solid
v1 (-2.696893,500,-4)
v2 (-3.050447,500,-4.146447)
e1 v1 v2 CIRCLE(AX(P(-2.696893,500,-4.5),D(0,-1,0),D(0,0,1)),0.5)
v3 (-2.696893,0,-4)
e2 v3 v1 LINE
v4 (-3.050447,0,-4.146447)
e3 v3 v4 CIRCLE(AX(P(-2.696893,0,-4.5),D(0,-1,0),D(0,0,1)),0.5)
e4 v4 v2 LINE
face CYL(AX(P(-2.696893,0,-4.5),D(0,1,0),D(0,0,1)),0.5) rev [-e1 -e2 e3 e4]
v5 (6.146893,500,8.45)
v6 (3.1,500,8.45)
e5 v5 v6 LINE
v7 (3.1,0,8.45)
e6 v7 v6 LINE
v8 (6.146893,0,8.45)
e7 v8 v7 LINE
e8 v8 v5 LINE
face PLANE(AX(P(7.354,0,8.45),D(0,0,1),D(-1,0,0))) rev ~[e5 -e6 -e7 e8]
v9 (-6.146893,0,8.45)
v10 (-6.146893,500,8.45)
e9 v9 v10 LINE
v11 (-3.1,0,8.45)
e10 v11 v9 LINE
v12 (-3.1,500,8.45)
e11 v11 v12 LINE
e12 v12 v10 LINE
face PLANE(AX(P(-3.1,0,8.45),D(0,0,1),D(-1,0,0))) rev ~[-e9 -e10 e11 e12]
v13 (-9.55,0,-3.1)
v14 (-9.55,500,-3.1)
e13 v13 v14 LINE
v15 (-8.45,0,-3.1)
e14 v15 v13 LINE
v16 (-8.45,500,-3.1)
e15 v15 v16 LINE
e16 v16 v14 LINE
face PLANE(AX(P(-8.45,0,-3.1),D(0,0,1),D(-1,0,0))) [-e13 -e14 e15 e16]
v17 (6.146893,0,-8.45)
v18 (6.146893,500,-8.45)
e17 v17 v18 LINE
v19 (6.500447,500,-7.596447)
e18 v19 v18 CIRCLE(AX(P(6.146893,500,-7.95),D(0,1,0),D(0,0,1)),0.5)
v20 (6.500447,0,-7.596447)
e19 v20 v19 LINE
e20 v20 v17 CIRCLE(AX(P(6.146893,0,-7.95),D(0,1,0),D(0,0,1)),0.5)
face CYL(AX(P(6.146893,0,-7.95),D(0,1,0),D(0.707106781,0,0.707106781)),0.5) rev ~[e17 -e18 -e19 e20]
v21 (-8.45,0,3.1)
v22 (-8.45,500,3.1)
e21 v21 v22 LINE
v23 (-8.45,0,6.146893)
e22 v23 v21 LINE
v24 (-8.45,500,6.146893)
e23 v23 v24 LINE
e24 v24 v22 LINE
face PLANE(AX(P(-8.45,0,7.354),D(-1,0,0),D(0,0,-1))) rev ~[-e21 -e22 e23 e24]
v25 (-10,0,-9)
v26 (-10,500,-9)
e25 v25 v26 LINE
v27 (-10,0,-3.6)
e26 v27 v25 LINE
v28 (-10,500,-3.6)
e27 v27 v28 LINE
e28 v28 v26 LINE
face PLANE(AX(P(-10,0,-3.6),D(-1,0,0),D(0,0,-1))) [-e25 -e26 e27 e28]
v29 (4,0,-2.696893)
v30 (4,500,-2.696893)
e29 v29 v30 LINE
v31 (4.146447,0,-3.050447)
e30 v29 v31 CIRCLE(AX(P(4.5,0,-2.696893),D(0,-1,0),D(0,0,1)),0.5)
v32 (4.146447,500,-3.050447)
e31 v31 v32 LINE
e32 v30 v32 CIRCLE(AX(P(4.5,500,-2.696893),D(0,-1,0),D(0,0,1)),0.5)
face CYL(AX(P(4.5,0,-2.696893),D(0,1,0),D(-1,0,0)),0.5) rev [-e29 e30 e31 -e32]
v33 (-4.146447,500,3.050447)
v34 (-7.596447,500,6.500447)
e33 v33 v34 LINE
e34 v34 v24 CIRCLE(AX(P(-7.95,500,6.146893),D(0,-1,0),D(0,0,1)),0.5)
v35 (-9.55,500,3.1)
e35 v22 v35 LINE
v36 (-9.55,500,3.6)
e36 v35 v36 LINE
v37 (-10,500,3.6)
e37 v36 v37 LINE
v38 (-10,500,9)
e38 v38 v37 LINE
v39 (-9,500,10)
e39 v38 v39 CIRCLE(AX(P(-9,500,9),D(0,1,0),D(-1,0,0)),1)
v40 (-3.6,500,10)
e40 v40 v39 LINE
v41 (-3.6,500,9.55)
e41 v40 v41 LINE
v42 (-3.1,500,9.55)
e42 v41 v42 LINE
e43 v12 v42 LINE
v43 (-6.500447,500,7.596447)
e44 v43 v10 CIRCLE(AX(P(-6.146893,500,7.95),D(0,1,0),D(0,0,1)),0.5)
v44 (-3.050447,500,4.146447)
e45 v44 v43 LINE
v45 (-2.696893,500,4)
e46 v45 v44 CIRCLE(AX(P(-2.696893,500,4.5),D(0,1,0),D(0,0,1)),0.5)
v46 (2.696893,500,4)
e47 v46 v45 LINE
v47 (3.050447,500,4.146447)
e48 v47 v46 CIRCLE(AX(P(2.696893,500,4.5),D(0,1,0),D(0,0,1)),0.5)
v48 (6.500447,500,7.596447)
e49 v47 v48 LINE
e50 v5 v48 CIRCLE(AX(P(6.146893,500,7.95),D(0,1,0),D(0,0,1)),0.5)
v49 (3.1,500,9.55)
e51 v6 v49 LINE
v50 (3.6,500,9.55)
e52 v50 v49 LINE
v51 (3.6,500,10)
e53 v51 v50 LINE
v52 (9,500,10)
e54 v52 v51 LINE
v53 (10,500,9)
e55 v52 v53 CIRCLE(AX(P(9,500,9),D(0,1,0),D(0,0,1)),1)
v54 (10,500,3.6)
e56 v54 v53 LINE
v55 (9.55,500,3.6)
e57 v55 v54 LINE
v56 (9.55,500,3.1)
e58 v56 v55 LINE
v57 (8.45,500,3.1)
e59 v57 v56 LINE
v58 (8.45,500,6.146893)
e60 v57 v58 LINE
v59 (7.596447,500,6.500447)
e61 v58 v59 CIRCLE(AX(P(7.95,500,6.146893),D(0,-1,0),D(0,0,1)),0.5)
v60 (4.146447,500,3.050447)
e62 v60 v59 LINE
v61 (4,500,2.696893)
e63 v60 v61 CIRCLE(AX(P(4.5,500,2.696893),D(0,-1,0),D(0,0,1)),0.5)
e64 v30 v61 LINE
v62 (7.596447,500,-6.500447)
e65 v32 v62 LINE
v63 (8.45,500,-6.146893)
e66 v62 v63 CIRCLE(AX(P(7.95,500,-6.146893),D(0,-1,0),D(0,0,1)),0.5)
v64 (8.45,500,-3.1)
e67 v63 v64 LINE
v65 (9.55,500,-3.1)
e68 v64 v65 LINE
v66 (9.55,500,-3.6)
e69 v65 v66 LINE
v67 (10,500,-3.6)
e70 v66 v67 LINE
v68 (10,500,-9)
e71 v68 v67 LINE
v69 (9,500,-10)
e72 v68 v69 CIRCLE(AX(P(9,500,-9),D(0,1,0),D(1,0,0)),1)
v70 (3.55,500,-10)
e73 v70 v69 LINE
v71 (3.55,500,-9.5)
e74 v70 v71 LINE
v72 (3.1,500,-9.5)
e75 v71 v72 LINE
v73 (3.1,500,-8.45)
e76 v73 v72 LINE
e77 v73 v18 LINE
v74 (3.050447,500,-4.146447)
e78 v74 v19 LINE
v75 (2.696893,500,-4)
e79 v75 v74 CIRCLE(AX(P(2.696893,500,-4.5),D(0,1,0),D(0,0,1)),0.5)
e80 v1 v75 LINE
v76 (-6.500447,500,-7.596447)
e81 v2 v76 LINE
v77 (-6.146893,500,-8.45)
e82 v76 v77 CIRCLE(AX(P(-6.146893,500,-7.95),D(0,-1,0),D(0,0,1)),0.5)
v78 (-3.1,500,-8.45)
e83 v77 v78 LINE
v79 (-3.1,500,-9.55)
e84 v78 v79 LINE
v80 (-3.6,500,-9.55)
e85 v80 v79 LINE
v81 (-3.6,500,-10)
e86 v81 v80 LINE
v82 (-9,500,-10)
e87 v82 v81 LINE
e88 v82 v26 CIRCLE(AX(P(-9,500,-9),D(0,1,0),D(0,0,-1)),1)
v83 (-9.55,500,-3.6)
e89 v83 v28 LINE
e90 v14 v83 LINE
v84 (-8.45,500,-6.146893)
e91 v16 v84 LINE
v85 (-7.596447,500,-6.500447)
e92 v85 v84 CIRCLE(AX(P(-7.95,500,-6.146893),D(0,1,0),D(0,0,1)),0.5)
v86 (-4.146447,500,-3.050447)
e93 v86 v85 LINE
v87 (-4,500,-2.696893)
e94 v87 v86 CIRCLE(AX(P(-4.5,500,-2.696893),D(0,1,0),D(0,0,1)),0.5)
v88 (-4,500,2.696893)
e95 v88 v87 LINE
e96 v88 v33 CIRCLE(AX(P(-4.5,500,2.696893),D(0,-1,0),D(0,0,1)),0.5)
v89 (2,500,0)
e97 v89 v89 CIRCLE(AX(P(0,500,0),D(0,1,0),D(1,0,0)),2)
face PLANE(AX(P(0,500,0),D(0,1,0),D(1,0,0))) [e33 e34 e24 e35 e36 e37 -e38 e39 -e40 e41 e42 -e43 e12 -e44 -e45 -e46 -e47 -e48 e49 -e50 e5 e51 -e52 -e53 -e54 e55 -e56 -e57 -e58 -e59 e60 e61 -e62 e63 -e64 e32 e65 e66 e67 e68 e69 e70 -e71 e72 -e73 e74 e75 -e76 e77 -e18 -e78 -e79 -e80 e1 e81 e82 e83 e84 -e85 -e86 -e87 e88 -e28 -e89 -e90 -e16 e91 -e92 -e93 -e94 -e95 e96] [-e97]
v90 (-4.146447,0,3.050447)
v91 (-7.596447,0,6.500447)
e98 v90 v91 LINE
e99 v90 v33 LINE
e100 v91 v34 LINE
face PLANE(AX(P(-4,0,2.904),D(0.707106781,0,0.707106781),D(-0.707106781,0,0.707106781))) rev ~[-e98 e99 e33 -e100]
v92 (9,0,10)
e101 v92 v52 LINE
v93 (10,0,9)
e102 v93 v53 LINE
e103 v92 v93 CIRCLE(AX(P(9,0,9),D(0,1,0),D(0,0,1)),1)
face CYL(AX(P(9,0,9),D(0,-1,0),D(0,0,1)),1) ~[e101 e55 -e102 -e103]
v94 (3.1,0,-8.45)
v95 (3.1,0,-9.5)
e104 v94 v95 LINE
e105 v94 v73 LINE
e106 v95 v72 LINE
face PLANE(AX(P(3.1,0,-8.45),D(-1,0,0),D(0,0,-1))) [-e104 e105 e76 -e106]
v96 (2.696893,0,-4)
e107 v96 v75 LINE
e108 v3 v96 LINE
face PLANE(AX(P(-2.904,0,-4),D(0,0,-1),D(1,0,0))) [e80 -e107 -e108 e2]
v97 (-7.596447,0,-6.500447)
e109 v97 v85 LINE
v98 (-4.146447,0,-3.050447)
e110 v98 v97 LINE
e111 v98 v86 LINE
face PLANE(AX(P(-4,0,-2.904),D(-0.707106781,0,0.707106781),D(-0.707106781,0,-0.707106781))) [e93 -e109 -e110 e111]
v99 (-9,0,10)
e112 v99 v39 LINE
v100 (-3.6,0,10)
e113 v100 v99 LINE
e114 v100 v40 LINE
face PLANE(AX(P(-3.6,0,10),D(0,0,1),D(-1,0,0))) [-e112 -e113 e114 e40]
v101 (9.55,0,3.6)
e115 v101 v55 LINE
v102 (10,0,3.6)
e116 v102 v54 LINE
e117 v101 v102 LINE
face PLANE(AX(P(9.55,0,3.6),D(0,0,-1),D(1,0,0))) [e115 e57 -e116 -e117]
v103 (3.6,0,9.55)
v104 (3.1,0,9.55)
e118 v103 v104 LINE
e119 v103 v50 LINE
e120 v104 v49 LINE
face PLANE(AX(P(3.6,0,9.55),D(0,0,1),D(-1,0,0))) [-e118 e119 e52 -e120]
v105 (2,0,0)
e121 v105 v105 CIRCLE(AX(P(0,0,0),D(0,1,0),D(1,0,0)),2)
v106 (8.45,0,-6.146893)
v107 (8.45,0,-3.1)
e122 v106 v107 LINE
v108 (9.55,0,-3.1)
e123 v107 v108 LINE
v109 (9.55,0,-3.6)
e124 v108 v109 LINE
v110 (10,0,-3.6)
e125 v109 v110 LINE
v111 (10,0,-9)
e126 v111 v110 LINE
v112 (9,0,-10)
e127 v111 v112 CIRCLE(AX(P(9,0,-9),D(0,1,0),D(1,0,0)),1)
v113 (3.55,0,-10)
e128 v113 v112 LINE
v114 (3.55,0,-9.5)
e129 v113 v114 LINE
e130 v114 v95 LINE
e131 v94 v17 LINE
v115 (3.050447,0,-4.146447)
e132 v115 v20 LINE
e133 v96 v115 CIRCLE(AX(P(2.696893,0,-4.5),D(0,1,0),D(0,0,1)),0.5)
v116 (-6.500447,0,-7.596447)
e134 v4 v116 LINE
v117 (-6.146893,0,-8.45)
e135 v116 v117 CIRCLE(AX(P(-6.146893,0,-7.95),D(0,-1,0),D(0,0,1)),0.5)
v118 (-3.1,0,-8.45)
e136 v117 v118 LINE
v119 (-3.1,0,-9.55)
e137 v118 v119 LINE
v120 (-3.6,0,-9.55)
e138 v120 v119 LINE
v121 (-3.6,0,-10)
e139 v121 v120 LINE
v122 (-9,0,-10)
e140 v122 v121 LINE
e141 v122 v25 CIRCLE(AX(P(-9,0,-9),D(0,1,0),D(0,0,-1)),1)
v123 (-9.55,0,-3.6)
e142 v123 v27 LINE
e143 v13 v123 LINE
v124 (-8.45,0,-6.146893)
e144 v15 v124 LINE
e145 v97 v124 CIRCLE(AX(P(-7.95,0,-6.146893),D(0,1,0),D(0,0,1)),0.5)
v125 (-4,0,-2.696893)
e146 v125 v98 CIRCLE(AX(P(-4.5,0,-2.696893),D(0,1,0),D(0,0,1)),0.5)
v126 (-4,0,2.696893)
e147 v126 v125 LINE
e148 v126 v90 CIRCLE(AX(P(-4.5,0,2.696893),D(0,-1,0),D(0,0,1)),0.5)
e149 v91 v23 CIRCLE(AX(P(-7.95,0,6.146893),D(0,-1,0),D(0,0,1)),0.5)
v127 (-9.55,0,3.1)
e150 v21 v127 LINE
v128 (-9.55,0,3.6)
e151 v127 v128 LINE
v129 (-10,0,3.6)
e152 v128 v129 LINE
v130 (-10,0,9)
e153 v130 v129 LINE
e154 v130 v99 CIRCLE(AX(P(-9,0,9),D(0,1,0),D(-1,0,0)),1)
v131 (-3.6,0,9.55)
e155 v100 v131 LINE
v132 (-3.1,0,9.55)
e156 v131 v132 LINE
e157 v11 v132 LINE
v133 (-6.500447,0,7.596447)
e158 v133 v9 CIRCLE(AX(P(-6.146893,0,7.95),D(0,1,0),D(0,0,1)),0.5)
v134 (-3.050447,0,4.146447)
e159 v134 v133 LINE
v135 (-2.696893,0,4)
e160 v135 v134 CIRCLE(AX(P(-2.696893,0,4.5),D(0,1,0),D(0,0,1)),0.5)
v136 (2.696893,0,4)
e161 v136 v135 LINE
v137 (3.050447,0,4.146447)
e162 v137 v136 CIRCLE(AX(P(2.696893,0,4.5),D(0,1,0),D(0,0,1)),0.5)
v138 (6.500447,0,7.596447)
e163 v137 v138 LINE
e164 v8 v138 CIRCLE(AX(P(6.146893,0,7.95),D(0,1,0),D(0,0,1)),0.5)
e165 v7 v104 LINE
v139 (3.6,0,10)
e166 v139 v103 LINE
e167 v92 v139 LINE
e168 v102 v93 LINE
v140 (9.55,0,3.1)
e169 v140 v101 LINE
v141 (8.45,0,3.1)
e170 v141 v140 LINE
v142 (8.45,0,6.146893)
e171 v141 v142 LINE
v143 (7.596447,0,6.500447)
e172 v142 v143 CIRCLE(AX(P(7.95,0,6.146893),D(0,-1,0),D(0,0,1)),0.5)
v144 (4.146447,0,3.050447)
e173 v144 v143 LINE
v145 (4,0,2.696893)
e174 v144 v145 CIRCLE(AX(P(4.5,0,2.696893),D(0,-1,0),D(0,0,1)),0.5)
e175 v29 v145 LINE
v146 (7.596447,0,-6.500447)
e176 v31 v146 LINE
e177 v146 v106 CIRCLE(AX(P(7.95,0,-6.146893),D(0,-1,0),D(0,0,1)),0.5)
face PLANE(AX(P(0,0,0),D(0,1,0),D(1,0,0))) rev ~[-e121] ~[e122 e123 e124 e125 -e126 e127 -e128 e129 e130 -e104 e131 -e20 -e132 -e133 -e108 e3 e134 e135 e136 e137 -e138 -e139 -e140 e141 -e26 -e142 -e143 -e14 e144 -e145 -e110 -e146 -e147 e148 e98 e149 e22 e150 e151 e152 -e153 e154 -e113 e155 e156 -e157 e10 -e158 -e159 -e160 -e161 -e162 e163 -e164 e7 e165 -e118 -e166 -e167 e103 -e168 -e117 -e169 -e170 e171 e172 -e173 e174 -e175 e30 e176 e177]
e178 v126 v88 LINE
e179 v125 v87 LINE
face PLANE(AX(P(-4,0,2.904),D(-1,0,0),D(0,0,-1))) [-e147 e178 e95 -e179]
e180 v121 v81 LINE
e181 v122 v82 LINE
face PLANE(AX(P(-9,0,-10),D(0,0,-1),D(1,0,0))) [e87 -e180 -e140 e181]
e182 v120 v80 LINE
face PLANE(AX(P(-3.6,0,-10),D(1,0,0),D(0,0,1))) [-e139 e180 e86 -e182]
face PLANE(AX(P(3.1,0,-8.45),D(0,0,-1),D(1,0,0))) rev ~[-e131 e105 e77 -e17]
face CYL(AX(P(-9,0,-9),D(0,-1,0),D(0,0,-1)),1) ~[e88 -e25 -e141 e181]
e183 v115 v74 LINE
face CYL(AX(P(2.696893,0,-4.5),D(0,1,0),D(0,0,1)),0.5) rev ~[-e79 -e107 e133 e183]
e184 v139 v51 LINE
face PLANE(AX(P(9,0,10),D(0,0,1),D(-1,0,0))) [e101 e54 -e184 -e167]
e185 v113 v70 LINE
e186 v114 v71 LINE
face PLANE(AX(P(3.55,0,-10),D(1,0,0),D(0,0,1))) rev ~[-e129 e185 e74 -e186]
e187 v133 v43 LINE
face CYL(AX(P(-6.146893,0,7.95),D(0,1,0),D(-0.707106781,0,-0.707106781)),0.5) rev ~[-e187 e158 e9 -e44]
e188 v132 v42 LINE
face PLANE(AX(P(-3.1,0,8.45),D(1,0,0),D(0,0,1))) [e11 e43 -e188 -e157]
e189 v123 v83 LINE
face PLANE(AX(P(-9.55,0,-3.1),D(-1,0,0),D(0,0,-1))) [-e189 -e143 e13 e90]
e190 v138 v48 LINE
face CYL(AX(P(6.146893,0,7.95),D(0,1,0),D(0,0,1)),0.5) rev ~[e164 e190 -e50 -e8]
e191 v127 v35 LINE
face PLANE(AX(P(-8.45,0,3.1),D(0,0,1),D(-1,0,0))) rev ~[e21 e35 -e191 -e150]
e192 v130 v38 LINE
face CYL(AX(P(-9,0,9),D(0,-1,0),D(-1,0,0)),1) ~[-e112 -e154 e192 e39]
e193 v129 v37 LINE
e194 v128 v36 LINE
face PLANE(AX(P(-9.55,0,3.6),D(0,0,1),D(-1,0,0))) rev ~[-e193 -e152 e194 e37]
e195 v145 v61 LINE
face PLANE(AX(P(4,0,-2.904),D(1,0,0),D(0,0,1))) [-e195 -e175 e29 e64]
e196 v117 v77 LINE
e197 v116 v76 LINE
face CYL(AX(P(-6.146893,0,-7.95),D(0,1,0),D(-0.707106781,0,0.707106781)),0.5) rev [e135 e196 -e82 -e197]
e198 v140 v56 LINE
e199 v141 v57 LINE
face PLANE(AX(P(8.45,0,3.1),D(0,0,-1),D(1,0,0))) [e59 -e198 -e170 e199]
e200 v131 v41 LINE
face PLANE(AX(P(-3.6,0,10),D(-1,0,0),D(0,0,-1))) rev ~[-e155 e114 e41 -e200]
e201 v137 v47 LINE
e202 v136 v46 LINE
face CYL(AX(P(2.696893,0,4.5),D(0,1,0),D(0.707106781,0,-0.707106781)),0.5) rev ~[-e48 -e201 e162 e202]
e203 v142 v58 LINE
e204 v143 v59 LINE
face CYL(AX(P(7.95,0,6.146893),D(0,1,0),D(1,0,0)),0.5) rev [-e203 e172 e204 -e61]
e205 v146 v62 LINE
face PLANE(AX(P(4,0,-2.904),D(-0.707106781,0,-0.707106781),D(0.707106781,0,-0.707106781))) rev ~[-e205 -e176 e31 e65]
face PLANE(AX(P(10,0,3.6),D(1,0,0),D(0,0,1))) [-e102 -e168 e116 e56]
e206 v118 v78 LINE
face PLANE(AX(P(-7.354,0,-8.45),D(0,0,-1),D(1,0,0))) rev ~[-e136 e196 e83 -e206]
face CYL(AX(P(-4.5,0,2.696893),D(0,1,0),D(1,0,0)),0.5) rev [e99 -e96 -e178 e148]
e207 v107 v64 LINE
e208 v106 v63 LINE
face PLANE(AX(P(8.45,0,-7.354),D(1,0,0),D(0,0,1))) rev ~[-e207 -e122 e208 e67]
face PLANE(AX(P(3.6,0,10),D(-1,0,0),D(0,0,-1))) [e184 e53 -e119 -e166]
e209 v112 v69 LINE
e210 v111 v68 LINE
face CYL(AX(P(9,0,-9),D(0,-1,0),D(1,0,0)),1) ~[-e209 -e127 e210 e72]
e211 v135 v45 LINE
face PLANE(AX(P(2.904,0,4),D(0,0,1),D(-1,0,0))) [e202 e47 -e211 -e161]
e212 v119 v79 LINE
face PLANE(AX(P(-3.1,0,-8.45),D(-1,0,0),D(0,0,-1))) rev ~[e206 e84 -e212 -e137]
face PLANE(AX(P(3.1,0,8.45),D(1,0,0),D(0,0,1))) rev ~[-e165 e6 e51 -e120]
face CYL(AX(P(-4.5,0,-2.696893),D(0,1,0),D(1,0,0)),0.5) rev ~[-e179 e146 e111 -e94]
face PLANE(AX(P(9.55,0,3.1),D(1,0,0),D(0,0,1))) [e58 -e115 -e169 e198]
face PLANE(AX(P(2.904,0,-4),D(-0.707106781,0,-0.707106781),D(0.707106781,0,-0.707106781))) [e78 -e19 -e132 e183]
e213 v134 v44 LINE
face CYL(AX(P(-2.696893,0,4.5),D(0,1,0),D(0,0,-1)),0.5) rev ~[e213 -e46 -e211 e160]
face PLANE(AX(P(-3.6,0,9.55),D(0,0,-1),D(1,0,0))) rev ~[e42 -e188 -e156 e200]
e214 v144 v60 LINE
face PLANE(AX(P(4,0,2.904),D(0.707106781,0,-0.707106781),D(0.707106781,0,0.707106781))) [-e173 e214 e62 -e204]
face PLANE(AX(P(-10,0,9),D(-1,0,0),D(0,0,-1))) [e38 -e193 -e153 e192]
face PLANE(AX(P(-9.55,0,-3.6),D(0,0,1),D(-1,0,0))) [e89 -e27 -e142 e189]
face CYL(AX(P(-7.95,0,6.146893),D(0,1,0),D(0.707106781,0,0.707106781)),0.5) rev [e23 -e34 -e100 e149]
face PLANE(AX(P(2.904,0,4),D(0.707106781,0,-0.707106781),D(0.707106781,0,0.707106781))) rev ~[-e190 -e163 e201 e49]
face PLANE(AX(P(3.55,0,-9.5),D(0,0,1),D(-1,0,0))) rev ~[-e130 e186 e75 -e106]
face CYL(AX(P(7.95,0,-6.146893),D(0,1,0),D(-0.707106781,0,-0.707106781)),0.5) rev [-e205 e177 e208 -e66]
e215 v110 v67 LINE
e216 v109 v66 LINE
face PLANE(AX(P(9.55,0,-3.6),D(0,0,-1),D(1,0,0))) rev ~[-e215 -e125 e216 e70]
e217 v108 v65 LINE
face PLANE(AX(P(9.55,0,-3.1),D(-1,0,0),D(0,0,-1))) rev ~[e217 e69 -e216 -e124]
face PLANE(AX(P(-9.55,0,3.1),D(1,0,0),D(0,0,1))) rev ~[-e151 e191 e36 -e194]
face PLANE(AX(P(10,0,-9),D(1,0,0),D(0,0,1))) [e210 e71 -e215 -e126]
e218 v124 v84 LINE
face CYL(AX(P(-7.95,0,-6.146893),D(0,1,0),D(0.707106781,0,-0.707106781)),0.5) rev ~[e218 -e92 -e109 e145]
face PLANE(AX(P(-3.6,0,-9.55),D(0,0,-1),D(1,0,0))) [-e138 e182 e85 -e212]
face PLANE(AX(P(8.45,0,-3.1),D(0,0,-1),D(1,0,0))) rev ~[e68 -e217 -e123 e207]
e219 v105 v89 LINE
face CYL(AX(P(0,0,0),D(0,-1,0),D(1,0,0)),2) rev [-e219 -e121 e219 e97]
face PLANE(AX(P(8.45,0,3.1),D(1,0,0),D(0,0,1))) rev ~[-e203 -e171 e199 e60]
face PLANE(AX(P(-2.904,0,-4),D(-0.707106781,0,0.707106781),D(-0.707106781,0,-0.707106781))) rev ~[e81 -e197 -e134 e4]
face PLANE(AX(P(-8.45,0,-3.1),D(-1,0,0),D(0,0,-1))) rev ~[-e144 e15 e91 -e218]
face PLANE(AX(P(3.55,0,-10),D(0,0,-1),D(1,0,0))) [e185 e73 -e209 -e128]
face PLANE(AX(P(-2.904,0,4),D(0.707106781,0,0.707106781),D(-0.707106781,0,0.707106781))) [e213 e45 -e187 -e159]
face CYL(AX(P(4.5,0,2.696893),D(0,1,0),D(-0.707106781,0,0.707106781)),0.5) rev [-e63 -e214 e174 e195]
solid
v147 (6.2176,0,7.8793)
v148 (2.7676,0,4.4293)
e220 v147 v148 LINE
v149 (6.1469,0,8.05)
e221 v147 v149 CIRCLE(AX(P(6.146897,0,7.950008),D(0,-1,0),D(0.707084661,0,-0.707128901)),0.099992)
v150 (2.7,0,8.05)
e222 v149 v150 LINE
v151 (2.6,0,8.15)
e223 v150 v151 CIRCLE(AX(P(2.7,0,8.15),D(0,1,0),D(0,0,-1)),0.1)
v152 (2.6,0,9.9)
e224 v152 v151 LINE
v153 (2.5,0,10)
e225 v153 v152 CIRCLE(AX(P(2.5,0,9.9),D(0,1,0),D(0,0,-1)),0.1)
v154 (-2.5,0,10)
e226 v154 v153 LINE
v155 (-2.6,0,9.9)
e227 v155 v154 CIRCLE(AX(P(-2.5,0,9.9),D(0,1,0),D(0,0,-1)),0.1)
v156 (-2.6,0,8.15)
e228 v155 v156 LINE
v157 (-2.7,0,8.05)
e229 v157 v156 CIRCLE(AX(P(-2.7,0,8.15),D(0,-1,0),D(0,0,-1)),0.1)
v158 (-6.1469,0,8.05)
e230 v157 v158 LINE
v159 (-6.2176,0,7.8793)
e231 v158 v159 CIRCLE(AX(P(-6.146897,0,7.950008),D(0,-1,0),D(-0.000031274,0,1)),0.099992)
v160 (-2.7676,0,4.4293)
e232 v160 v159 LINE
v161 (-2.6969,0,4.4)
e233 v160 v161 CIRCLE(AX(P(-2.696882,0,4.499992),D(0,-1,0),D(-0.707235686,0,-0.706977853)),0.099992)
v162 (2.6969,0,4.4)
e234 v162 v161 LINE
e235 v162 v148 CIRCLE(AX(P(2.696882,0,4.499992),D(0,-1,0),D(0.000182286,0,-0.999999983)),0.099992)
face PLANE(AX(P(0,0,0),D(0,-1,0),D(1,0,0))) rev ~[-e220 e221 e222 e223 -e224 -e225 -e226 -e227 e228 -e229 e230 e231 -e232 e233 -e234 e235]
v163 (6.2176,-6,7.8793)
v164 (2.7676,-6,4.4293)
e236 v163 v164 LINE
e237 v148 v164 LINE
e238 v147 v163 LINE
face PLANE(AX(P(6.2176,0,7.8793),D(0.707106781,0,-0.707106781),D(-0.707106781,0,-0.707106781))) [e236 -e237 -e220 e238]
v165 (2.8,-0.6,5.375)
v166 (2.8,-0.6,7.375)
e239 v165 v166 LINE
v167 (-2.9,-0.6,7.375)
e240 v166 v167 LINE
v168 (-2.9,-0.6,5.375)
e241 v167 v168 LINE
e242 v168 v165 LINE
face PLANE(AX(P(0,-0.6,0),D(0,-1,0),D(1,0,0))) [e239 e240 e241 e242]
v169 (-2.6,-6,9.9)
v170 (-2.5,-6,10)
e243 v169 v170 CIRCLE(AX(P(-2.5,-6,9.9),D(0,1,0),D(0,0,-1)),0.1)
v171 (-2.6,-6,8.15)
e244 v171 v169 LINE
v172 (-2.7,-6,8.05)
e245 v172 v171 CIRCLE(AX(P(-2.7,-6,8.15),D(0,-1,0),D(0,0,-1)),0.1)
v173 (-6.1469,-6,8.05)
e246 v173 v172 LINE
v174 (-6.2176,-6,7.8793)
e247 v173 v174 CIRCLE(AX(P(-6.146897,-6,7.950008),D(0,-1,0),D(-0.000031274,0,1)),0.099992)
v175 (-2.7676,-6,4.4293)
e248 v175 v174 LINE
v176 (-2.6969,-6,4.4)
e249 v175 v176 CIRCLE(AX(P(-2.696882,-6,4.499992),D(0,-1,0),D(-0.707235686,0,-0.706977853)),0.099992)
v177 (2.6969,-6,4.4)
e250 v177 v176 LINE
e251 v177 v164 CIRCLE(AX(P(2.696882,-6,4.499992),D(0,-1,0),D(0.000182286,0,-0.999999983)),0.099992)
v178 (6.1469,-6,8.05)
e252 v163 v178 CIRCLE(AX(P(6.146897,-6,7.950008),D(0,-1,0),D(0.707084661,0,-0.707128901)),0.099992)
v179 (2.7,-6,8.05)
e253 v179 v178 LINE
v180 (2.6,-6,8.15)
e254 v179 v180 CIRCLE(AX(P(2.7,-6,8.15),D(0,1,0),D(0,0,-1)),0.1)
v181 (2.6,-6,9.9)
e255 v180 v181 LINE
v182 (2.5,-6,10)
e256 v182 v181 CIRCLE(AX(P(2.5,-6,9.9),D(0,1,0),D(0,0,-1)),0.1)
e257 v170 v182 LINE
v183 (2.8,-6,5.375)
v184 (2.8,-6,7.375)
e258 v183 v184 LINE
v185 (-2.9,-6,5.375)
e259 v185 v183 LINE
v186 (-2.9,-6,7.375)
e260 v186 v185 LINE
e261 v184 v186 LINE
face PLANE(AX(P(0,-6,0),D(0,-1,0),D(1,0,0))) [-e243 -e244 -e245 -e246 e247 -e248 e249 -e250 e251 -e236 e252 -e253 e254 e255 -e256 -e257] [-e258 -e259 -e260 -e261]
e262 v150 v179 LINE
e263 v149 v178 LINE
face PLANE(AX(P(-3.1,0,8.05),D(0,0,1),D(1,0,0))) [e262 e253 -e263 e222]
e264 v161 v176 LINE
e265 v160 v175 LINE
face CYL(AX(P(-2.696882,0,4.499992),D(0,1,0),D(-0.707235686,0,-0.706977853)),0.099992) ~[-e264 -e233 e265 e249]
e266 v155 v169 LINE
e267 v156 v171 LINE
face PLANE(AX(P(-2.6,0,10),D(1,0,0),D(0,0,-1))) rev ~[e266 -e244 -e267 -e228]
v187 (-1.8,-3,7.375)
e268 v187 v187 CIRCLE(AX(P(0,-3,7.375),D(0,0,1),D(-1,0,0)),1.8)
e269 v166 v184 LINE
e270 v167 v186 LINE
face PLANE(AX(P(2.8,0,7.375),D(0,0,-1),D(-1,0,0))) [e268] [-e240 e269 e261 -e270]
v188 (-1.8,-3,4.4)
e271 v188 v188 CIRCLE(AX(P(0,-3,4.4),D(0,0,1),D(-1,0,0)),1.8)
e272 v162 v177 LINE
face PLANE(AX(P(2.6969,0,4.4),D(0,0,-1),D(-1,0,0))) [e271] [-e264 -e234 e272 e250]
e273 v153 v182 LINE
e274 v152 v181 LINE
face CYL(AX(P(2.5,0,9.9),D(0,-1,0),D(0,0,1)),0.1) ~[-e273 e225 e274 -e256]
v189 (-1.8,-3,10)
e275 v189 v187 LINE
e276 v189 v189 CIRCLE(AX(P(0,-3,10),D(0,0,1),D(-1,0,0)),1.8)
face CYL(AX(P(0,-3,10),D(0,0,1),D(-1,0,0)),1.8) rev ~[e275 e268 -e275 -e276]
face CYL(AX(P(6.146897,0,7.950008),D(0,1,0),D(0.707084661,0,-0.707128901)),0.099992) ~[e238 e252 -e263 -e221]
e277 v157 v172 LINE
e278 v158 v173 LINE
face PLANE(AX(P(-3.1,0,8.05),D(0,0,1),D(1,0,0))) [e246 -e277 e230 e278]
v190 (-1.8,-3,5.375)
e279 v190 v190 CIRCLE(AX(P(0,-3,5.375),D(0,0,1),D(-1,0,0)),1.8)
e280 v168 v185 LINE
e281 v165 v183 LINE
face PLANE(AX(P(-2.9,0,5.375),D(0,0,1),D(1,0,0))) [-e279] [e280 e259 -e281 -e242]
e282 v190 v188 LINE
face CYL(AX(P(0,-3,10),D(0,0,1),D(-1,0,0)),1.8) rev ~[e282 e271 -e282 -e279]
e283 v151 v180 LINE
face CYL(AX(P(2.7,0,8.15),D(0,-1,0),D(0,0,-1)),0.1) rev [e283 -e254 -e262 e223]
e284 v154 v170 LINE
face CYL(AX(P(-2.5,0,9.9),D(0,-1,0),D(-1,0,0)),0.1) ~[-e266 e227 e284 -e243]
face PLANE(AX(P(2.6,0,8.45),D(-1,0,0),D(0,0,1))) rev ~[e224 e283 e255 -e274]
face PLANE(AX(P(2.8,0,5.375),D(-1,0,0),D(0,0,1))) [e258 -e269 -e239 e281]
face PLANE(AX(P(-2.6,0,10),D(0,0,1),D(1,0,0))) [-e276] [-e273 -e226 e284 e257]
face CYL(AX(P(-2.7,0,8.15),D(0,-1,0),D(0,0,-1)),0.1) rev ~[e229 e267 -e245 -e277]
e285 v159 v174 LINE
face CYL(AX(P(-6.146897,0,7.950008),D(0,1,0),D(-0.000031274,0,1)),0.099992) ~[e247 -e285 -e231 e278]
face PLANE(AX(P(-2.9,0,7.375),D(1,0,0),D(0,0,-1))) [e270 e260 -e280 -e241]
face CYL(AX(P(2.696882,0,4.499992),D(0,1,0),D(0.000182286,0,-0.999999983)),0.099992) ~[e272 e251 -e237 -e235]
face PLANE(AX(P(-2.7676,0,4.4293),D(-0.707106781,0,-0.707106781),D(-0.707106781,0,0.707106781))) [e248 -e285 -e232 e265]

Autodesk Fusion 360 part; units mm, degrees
sketch "Sketch1" plane through (0, 0, 0) normal (0, 1, 0) x (1, 0, 0) in component "2020-extrusion v1"
  line L0 (9, -10) -> (-9, -10)
  line L1 (-10, -9) -> (-10, 9)
  line L2 (-9, 10) -> (9, 10)
  line L3 (10, 9) -> (10, -9)
  line L4 (10, -10) -> (-10, 10) construction
  line L5 (-10, -10) -> (10, 10) construction
  line L6 (4, -4) -> (-4, -4)
  line L7 (-4, -4) -> (-4, 4)
  line L8 (-4, 4) -> (4, 4)
  line L9 (4, 4) -> (4, -4)
  line L10 (4, -4) -> (-4, 4) construction
  line L11 (-4, -4) -> (4, 4) construction
  circle A0 centre (0, 0) radius 2
  line L12 (8.45, -8.45) -> (-8.45, -8.45)
  line L13 (-8.45, -8.45) -> (-8.45, 8.45)
  line L14 (-8.45, 8.45) -> (8.45, 8.45)
  line L15 (8.45, 8.45) -> (8.45, -8.45)
  line L16 (8.45, -8.45) -> (-8.45, 8.45) construction
  line L17 (-8.45, -8.45) -> (8.45, 8.45) construction
  line L18 (-9.452, -10.548) -> (10.548, 9.452) construction
  line L19 (-10.548, -9.452) -> (9.452, 10.548) construction
  line L20 (10.548, -9.452) -> (-9.452, 10.548) construction
  line L21 (9.452, -10.548) -> (-10.548, 9.452) construction
  line L22 (3.1, -10) -> (-3.1, -10) construction
  line L23 (-3.1, -10) -> (-3.1, 10) construction
  line L24 (-3.1, 10) -> (3.1, 10) construction
  line L25 (3.1, 10) -> (3.1, -10) construction
  line L26 (10, -3.1) -> (-10, -3.1) construction
  line L27 (-10, -3.1) -> (-10, 3.1) construction
  line L28 (-10, 3.1) -> (10, 3.1) construction
  line L29 (10, 3.1) -> (10, -3.1) construction
  line L30 (-3.1, -8.45) -> (-3.1, -10)
  line L31 (3.1, -8.45) -> (3.1, -10)
  line L32 (-8.45, -3.1) -> (-10, -3.1)
  line L33 (-8.45, 3.1) -> (-10, 3.1)
  line L34 (8.45, -3.1) -> (10, -3.1)
  line L35 (8.45, 3.1) -> (10, 3.1)
  line L36 (-3.1, 8.45) -> (-3.1, 10)
  line L37 (3.1, 8.45) -> (3.1, 10)
  line L38 (-4, 2.904) -> (-8.45, 7.354)
  line L39 (-2.904, 4) -> (-7.354, 8.45)
  line L40 (2.904, 4) -> (7.354, 8.45)
  line L41 (4, 2.904) -> (8.45, 7.354)
  line L42 (-4, -2.904) -> (-8.45, -7.354)
  line L43 (-2.904, -4) -> (-7.354, -8.45)
  line L44 (2.904, -4) -> (7.354, -8.45)
  line L45 (4, -2.904) -> (8.45, -7.354)
  line L46 (-10, -3.1) -> (-9.55, -3.1)
  line L47 (-9.55, -3.1) -> (-9.55, -3.6)
  line L48 (-9.55, -3.6) -> (-10, -3.6)
  line L49 (-10, -3.6) -> (-10, -3.1)
  line L50 (-10, 3.1) -> (-9.55, 3.1)
  line L51 (-9.55, 3.1) -> (-9.55, 3.6)
  line L52 (-9.55, 3.6) -> (-10, 3.6)
  line L53 (-10, 3.6) -> (-10, 3.1)
  line L54 (-3.1, -10) -> (-3.6, -10)
  line L55 (-3.6, -10) -> (-3.6, -9.55)
  line L56 (-3.6, -9.55) -> (-3.1, -9.55)
  line L57 (-3.1, -9.55) -> (-3.1, -10)
  line L58 (3.1, -10) -> (3.6, -10)
  line L59 (3.6, -10) -> (3.6, -9.55)
  line L60 (3.6, -9.55) -> (3.1, -9.55)
  line L61 (3.1, -9.55) -> (3.1, -10)
  line L62 (10, -3.1) -> (9.55, -3.1)
  line L63 (9.55, -3.1) -> (9.55, -3.6)
  line L64 (9.55, -3.6) -> (10, -3.6)
  line L65 (10, -3.6) -> (10, -3.1)
  line L66 (10, 3.1) -> (9.55, 3.1)
  line L67 (9.55, 3.1) -> (9.55, 3.6)
  line L68 (9.55, 3.6) -> (10, 3.6)
  line L69 (10, 3.6) -> (10, 3.1)
  line L70 (-3.1, 10) -> (-3.6, 10)
  line L71 (-3.6, 10) -> (-3.6, 9.55)
  line L72 (-3.6, 9.55) -> (-3.1, 9.55)
  line L73 (-3.1, 9.55) -> (-3.1, 10)
  line L74 (3.1, 10) -> (3.55, 10)
  line L75 (3.55, 10) -> (3.55, 9.5)
  line L76 (3.55, 9.5) -> (3.1, 9.5)
  line L77 (3.1, 9.5) -> (3.1, 10)
  arc A1 (-10, -9) -> (-9, -10) centre (-9, -9) ccw
  arc A2 (9, -10) -> (10, -9) centre (9, -9) ccw
  arc A3 (10, 9) -> (9, 10) centre (9, 9) ccw
  arc A4 (-9, 10) -> (-10, 9) centre (-9, 9) ccw
  dimension "d1" = 20
  dimension "d2" = 20
  dimension "d3" = 8
  dimension "d4" = 8
  dimension "d5" = 4
  dimension "d6" = 16.9
  dimension "d7" = 16.9
  dimension "d8" = 0.775
  dimension "d9" = -0.775
  dimension "d10" = 0.775
  dimension "d11" = -0.775
  dimension "d12" = 6.2
  dimension "d13" = 20
  dimension "d14" = 20
  dimension "d15" = 6.2
  dimension "d16" = 1.55
  dimension "d17" = 1.55
  dimension "d18" = 1.55
  dimension "d19" = 1.55
  dimension "d20" = 1.55
  dimension "d21" = 1.55
  dimension "d22" = 1.55
  dimension "d23" = 1.55
  dimension "d24" = 0.45
  dimension "d25" = 0.5
  dimension "d26" = 0.45
  dimension "d27" = 0.5
  dimension "d28" = 0.5
  dimension "d29" = 0.45
  dimension "d30" = 0.5
  dimension "d31" = 0.45
  dimension "d32" = 0.45
  dimension "d33" = 0.5
  dimension "d34" = 0.45
  dimension "d35" = 0.5
  dimension "d36" = 0.5
  dimension "d37" = 0.45
  dimension "d38" = 0.45
  dimension "d39" = 0.5
  dimension "d40" = 1
  dimension "d41" = 1
  dimension "d42" = 1
  dimension "d43" = 1
extrude "Extrude1" add sketch "Sketch1" along normal blind 500 contours L0 L3 L12 L15 L31 L34 L59 L60 L63 L64 A2 | L0 L1 L12 L13 L30 L32 L47 L48 L55 L56 A1 | L6 L9 L12 L15 L44 L45 | L2 L3 L14 L15 L35 L37 L67 L68 L75 L76 A3 | L6 L7 L12 L13 L42 L43 | L6 L7 L8 L9 | L8 L9 L14 L15 L40 L41 | L1 L2 L13 L14 L33 L36 L51 L52 L71 L72 A4 | L7 L8 L13 L14 L38 L39 makes body 1 in component "2020-extrusion v1"
fillet "Fillet1" radius 0.5 16 edges at (-8.45, 250, -7.354) (-7.354, 250, -8.45) (7.354, 250, -8.45) (8.45, 250, -7.354) (8.45, 250, 7.354) (7.354, 250, 8.45) (-7.354, 250, 8.45) (-8.45, 250, 7.354) (-2.904, 250, 4) (2.904, 250, 4) (-4, 250, 2.904) (-4, 250, -2.904) (-2.904, 250, -4) (2.904, 250, -4) (4, 250, -2.904) (4, 250, 2.904) on bodies 1 in component "2020-extrusion v1"
sketch "Sketch1 (2)" plane through (0, 0, 0) normal (0, -1, 0) x (1, 0, 0)
  circle A0 centre (0, 0) radius 2
  line L0 (-9, -10) -> (-3.6, -10)
  line L1 (-3.6, -10) -> (-3.6, -9.55)
  line L2 (-3.6, -9.55) -> (-3.1, -9.55)
  line L3 (-3.1, -9.55) -> (-3.1, -8.45)
  line L4 (-3.1, -8.45) -> (-6.1469, -8.45)
  arc A1 (-6.5004, -7.5964) -> (-6.1469, -8.45) centre (-6.1469, -7.95) ccw
  line L5 (-6.5004, -7.5964) -> (-3.0504, -4.1464)
  arc A2 (-2.6969, -4) -> (-3.0504, -4.1464) centre (-2.6969, -4.5) ccw
  line L6 (-2.6969, -4) -> (2.6969, -4)
  arc A3 (3.0504, -4.1464) -> (2.6969, -4) centre (2.6969, -4.5) ccw
  line L7 (3.0504, -4.1464) -> (6.5004, -7.5964)
  arc A4 (6.1469, -8.45) -> (6.5004, -7.5964) centre (6.1469, -7.95) ccw
  line L8 (6.1469, -8.45) -> (3.1, -8.45)
  line L9 (3.1, -8.45) -> (3.1, -9.5)
  line L10 (3.1, -9.5) -> (3.55, -9.5)
  line L11 (3.55, -9.5) -> (3.55, -10)
  line L12 (3.55, -10) -> (9, -10)
  arc A5 (9, -10) -> (10, -9) centre (9, -9) ccw
  line L13 (10, -9) -> (10, -3.6)
  line L14 (10, -3.6) -> (9.55, -3.6)
  line L15 (9.55, -3.6) -> (9.55, -3.1)
  line L16 (9.55, -3.1) -> (8.45, -3.1)
  line L17 (8.45, -3.1) -> (8.45, -6.1469)
  arc A6 (7.5964, -6.5004) -> (8.45, -6.1469) centre (7.95, -6.1469) ccw
  line L18 (7.5964, -6.5004) -> (4.1464, -3.0504)
  arc A7 (4, -2.6969) -> (4.1464, -3.0504) centre (4.5, -2.6969) ccw
  line L19 (4, -2.6969) -> (4, 2.6969)
  arc A8 (4.1464, 3.0504) -> (4, 2.6969) centre (4.5, 2.6969) ccw
  line L20 (4.1464, 3.0504) -> (7.5964, 6.5004)
  arc A9 (8.45, 6.1469) -> (7.5964, 6.5004) centre (7.95, 6.1469) ccw
  line L21 (8.45, 6.1469) -> (8.45, 3.1)
  line L22 (8.45, 3.1) -> (9.55, 3.1)
  line L23 (9.55, 3.1) -> (9.55, 3.6)
  line L24 (9.55, 3.6) -> (10, 3.6)
  line L25 (10, 3.6) -> (10, 9)
  arc A10 (10, 9) -> (9, 10) centre (9, 9) ccw
  line L26 (9, 10) -> (3.6, 10)
  line L27 (3.6, 10) -> (3.6, 9.55)
  line L28 (3.6, 9.55) -> (3.1, 9.55)
  line L29 (3.1, 9.55) -> (3.1, 8.45)
  line L30 (3.1, 8.45) -> (6.1469, 8.45)
  arc A11 (6.5004, 7.5964) -> (6.1469, 8.45) centre (6.1469, 7.95) ccw
  line L31 (6.5004, 7.5964) -> (3.0504, 4.1464)
  arc A12 (2.6969, 4) -> (3.0504, 4.1464) centre (2.6969, 4.5) ccw
  line L32 (2.6969, 4) -> (-2.6969, 4)
  arc A13 (-3.0504, 4.1464) -> (-2.6969, 4) centre (-2.6969, 4.5) ccw
  line L33 (-3.0504, 4.1464) -> (-6.5004, 7.5964)
  arc A14 (-6.1469, 8.45) -> (-6.5004, 7.5964) centre (-6.1469, 7.95) ccw
  line L34 (-6.1469, 8.45) -> (-3.1, 8.45)
  line L35 (-3.1, 8.45) -> (-3.1, 9.55)
  line L36 (-3.1, 9.55) -> (-3.6, 9.55)
  line L37 (-3.6, 9.55) -> (-3.6, 10)
  line L38 (-3.6, 10) -> (-9, 10)
  arc A15 (-9, 10) -> (-10, 9) centre (-9, 9) ccw
  line L39 (-10, 9) -> (-10, 3.6)
  line L40 (-10, 3.6) -> (-9.55, 3.6)
  line L41 (-9.55, 3.6) -> (-9.55, 3.1)
  line L42 (-9.55, 3.1) -> (-8.45, 3.1)
  line L43 (-8.45, 3.1) -> (-8.45, 6.1469)
  arc A16 (-7.5964, 6.5004) -> (-8.45, 6.1469) centre (-7.95, 6.1469) ccw
  line L44 (-7.5964, 6.5004) -> (-4.1464, 3.0504)
  arc A17 (-4, 2.6969) -> (-4.1464, 3.0504) centre (-4.5, 2.6969) ccw
  line L45 (-4, 2.6969) -> (-4, -2.6969)
  arc A18 (-4.1464, -3.0504) -> (-4, -2.6969) centre (-4.5, -2.6969) ccw
  line L46 (-4.1464, -3.0504) -> (-7.5964, -6.5004)
  arc A19 (-8.45, -6.1469) -> (-7.5964, -6.5004) centre (-7.95, -6.1469) ccw
  line L47 (-8.45, -6.1469) -> (-8.45, -3.1)
  line L48 (-8.45, -3.1) -> (-9.55, -3.1)
  line L49 (-9.55, -3.1) -> (-9.55, -3.6)
  line L50 (-9.55, -3.6) -> (-10, -3.6)
  line L51 (-10, -3.6) -> (-10, -9)
  arc A20 (-10, -9) -> (-9, -10) centre (-9, -9) ccw
  line L52 (-3.1, 8.45) -> (3.1, 8.45)
  line L53 (-3.1, 8.05) -> (3.1, 8.05)
  line L54 (3.1, 8.05) -> (6.1469, 8.05)
  arc A21 (6.2176, 7.8793) -> (6.1469, 8.05) centre (6.1469, 7.95) ccw
  line L55 (6.2176, 7.8793) -> (2.7676, 4.4293)
  arc A22 (2.6969, 4.4) -> (2.7676, 4.4293) centre (2.6969, 4.5) ccw
  line L56 (2.6969, 4.4) -> (-2.6969, 4.4)
  arc A23 (-2.7676, 4.4293) -> (-2.6969, 4.4) centre (-2.6969, 4.5) ccw
  line L57 (-2.7676, 4.4293) -> (-6.2176, 7.8793)
  arc A24 (-6.1469, 8.05) -> (-6.2176, 7.8793) centre (-6.1469, 7.95) ccw
  line L58 (-6.1469, 8.05) -> (-3.1, 8.05)
  line L59 (-3.1, 8.05) -> (2.802, 8.05) construction
  line L60 (2.802, 8.05) -> (2.802, 4.1083) construction
  line L61 (2.802, 4.1083) -> (-3.1, 4.1083) construction
  line L62 (-3.1, 4.1083) -> (-3.1, 8.05) construction
  line L63 (-3.1, 8.05) -> (2.802, 4.1083) construction
  line L64 (2.802, 8.05) -> (-3.1, 4.1083) construction
  line L65 (2.8, 7.375) -> (-2.9, 7.375)
  line L66 (-2.9, 7.375) -> (-2.9, 5.375)
  line L67 (-2.9, 5.375) -> (2.8, 5.375)
  line L68 (2.8, 5.375) -> (2.8, 7.375)
  line L69 (-0.149, 6.0792) -> (-0.149, 6.2792) construction
  line L70 (-3.1, 8.05) -> (-3.1, 10)
  line L71 (-3.1, 10) -> (3.1, 10)
  line L72 (3.1, 10) -> (3.1, 8.05)
  line L73 (-3.1, 10) -> (3.1, 8.05) construction
  line L74 (3.1, 10) -> (-3.1, 8.05) construction
  line L75 (2.6, 10) -> (-2.6, 10)
  line L76 (-2.6, 10) -> (-2.6, 8.05)
  line L77 (-2.6, 8.05) -> (2.6, 8.05)
  line L78 (2.6, 8.05) -> (2.6, 10)
  line L79 (2.6, 10) -> (-2.6, 8.05) construction
  line L80 (-2.6, 10) -> (2.6, 8.05) construction
  point P0 (-0.149, 6.0792)
  point P1 (0, 9.025)
  dimension "d48" = -0.4
  dimension "d49" = 5.7
  dimension "d50" = 2
  dimension "d58" = 0.2
  dimension "d60" = 0
  dimension "d63" = 5.2
  dimension "d64" = 1.95
extrude "Extrude1'" add sketch "Sketch1 (2)" along normal blind 6 separate body contours L53 L54 A21 L55 A22 L56 A23 L57 A24 L58 L77 makes body 2
extrude "Extrude3" add sketch "Sketch1 (2)" along normal blind 0.6 contours L65 L66 L67 L68 bodies 2
extrude "Extrude6" add sketch "Sketch1 (2)" along normal blind 6 contours L52 L71 L75 L76 L78 | L52 L53 L76 L77 L78 bodies 2
fillet "Fillet1'" radius 0.1 4 edges at (-2.6, -3, 8.05) (-2.6, -3, 10) (2.6, -3, 8.05) (2.6, -3, 10) on bodies 2
sketch "Sketch3" plane through (0, 0, 10) normal (0, 0, 1) x (-1, 0, 0)
  line L0 (-2.5, 6) -> (-2.5, 0)
  line L1 (-2.5, 0) -> (2.5, 0)
  line L2 (2.5, 0) -> (2.5, 6)
  line L3 (2.5, 6) -> (-2.5, 6)
  line L4 (-2.5, 0) -> (2.5, 6) construction
  line L5 (-2.5, 6) -> (2.5, 0) construction
  circle A0 centre (0, 3) radius 1.8
  dimension "d69" = 3.6
extrude "Extrude7" cut sketch "Sketch3" against normal blind 5.6 contours A0 bodies 2
component "2020-extrusion v1" placed x (1, 0, 0) y (0, 1, 0) z (0, 0, 1) at (0, 0, 0)
equation "d6 = 20 mm - ( ( 1.55 * 2 ) * 1 mm )"
equation "d7 = 20 mm - ( ( 1.55 * 2 ) * 1 mm )"
equation "d8 = ( 1.55 / 2 ) * 1 mm"
equation "d9 = ( -1.55 / 2 ) * 1 mm"
equation "d10 = ( 1.55 / 2 ) * 1 mm"
equation "d11 = ( -1.55 / 2 ) * 1 mm"
